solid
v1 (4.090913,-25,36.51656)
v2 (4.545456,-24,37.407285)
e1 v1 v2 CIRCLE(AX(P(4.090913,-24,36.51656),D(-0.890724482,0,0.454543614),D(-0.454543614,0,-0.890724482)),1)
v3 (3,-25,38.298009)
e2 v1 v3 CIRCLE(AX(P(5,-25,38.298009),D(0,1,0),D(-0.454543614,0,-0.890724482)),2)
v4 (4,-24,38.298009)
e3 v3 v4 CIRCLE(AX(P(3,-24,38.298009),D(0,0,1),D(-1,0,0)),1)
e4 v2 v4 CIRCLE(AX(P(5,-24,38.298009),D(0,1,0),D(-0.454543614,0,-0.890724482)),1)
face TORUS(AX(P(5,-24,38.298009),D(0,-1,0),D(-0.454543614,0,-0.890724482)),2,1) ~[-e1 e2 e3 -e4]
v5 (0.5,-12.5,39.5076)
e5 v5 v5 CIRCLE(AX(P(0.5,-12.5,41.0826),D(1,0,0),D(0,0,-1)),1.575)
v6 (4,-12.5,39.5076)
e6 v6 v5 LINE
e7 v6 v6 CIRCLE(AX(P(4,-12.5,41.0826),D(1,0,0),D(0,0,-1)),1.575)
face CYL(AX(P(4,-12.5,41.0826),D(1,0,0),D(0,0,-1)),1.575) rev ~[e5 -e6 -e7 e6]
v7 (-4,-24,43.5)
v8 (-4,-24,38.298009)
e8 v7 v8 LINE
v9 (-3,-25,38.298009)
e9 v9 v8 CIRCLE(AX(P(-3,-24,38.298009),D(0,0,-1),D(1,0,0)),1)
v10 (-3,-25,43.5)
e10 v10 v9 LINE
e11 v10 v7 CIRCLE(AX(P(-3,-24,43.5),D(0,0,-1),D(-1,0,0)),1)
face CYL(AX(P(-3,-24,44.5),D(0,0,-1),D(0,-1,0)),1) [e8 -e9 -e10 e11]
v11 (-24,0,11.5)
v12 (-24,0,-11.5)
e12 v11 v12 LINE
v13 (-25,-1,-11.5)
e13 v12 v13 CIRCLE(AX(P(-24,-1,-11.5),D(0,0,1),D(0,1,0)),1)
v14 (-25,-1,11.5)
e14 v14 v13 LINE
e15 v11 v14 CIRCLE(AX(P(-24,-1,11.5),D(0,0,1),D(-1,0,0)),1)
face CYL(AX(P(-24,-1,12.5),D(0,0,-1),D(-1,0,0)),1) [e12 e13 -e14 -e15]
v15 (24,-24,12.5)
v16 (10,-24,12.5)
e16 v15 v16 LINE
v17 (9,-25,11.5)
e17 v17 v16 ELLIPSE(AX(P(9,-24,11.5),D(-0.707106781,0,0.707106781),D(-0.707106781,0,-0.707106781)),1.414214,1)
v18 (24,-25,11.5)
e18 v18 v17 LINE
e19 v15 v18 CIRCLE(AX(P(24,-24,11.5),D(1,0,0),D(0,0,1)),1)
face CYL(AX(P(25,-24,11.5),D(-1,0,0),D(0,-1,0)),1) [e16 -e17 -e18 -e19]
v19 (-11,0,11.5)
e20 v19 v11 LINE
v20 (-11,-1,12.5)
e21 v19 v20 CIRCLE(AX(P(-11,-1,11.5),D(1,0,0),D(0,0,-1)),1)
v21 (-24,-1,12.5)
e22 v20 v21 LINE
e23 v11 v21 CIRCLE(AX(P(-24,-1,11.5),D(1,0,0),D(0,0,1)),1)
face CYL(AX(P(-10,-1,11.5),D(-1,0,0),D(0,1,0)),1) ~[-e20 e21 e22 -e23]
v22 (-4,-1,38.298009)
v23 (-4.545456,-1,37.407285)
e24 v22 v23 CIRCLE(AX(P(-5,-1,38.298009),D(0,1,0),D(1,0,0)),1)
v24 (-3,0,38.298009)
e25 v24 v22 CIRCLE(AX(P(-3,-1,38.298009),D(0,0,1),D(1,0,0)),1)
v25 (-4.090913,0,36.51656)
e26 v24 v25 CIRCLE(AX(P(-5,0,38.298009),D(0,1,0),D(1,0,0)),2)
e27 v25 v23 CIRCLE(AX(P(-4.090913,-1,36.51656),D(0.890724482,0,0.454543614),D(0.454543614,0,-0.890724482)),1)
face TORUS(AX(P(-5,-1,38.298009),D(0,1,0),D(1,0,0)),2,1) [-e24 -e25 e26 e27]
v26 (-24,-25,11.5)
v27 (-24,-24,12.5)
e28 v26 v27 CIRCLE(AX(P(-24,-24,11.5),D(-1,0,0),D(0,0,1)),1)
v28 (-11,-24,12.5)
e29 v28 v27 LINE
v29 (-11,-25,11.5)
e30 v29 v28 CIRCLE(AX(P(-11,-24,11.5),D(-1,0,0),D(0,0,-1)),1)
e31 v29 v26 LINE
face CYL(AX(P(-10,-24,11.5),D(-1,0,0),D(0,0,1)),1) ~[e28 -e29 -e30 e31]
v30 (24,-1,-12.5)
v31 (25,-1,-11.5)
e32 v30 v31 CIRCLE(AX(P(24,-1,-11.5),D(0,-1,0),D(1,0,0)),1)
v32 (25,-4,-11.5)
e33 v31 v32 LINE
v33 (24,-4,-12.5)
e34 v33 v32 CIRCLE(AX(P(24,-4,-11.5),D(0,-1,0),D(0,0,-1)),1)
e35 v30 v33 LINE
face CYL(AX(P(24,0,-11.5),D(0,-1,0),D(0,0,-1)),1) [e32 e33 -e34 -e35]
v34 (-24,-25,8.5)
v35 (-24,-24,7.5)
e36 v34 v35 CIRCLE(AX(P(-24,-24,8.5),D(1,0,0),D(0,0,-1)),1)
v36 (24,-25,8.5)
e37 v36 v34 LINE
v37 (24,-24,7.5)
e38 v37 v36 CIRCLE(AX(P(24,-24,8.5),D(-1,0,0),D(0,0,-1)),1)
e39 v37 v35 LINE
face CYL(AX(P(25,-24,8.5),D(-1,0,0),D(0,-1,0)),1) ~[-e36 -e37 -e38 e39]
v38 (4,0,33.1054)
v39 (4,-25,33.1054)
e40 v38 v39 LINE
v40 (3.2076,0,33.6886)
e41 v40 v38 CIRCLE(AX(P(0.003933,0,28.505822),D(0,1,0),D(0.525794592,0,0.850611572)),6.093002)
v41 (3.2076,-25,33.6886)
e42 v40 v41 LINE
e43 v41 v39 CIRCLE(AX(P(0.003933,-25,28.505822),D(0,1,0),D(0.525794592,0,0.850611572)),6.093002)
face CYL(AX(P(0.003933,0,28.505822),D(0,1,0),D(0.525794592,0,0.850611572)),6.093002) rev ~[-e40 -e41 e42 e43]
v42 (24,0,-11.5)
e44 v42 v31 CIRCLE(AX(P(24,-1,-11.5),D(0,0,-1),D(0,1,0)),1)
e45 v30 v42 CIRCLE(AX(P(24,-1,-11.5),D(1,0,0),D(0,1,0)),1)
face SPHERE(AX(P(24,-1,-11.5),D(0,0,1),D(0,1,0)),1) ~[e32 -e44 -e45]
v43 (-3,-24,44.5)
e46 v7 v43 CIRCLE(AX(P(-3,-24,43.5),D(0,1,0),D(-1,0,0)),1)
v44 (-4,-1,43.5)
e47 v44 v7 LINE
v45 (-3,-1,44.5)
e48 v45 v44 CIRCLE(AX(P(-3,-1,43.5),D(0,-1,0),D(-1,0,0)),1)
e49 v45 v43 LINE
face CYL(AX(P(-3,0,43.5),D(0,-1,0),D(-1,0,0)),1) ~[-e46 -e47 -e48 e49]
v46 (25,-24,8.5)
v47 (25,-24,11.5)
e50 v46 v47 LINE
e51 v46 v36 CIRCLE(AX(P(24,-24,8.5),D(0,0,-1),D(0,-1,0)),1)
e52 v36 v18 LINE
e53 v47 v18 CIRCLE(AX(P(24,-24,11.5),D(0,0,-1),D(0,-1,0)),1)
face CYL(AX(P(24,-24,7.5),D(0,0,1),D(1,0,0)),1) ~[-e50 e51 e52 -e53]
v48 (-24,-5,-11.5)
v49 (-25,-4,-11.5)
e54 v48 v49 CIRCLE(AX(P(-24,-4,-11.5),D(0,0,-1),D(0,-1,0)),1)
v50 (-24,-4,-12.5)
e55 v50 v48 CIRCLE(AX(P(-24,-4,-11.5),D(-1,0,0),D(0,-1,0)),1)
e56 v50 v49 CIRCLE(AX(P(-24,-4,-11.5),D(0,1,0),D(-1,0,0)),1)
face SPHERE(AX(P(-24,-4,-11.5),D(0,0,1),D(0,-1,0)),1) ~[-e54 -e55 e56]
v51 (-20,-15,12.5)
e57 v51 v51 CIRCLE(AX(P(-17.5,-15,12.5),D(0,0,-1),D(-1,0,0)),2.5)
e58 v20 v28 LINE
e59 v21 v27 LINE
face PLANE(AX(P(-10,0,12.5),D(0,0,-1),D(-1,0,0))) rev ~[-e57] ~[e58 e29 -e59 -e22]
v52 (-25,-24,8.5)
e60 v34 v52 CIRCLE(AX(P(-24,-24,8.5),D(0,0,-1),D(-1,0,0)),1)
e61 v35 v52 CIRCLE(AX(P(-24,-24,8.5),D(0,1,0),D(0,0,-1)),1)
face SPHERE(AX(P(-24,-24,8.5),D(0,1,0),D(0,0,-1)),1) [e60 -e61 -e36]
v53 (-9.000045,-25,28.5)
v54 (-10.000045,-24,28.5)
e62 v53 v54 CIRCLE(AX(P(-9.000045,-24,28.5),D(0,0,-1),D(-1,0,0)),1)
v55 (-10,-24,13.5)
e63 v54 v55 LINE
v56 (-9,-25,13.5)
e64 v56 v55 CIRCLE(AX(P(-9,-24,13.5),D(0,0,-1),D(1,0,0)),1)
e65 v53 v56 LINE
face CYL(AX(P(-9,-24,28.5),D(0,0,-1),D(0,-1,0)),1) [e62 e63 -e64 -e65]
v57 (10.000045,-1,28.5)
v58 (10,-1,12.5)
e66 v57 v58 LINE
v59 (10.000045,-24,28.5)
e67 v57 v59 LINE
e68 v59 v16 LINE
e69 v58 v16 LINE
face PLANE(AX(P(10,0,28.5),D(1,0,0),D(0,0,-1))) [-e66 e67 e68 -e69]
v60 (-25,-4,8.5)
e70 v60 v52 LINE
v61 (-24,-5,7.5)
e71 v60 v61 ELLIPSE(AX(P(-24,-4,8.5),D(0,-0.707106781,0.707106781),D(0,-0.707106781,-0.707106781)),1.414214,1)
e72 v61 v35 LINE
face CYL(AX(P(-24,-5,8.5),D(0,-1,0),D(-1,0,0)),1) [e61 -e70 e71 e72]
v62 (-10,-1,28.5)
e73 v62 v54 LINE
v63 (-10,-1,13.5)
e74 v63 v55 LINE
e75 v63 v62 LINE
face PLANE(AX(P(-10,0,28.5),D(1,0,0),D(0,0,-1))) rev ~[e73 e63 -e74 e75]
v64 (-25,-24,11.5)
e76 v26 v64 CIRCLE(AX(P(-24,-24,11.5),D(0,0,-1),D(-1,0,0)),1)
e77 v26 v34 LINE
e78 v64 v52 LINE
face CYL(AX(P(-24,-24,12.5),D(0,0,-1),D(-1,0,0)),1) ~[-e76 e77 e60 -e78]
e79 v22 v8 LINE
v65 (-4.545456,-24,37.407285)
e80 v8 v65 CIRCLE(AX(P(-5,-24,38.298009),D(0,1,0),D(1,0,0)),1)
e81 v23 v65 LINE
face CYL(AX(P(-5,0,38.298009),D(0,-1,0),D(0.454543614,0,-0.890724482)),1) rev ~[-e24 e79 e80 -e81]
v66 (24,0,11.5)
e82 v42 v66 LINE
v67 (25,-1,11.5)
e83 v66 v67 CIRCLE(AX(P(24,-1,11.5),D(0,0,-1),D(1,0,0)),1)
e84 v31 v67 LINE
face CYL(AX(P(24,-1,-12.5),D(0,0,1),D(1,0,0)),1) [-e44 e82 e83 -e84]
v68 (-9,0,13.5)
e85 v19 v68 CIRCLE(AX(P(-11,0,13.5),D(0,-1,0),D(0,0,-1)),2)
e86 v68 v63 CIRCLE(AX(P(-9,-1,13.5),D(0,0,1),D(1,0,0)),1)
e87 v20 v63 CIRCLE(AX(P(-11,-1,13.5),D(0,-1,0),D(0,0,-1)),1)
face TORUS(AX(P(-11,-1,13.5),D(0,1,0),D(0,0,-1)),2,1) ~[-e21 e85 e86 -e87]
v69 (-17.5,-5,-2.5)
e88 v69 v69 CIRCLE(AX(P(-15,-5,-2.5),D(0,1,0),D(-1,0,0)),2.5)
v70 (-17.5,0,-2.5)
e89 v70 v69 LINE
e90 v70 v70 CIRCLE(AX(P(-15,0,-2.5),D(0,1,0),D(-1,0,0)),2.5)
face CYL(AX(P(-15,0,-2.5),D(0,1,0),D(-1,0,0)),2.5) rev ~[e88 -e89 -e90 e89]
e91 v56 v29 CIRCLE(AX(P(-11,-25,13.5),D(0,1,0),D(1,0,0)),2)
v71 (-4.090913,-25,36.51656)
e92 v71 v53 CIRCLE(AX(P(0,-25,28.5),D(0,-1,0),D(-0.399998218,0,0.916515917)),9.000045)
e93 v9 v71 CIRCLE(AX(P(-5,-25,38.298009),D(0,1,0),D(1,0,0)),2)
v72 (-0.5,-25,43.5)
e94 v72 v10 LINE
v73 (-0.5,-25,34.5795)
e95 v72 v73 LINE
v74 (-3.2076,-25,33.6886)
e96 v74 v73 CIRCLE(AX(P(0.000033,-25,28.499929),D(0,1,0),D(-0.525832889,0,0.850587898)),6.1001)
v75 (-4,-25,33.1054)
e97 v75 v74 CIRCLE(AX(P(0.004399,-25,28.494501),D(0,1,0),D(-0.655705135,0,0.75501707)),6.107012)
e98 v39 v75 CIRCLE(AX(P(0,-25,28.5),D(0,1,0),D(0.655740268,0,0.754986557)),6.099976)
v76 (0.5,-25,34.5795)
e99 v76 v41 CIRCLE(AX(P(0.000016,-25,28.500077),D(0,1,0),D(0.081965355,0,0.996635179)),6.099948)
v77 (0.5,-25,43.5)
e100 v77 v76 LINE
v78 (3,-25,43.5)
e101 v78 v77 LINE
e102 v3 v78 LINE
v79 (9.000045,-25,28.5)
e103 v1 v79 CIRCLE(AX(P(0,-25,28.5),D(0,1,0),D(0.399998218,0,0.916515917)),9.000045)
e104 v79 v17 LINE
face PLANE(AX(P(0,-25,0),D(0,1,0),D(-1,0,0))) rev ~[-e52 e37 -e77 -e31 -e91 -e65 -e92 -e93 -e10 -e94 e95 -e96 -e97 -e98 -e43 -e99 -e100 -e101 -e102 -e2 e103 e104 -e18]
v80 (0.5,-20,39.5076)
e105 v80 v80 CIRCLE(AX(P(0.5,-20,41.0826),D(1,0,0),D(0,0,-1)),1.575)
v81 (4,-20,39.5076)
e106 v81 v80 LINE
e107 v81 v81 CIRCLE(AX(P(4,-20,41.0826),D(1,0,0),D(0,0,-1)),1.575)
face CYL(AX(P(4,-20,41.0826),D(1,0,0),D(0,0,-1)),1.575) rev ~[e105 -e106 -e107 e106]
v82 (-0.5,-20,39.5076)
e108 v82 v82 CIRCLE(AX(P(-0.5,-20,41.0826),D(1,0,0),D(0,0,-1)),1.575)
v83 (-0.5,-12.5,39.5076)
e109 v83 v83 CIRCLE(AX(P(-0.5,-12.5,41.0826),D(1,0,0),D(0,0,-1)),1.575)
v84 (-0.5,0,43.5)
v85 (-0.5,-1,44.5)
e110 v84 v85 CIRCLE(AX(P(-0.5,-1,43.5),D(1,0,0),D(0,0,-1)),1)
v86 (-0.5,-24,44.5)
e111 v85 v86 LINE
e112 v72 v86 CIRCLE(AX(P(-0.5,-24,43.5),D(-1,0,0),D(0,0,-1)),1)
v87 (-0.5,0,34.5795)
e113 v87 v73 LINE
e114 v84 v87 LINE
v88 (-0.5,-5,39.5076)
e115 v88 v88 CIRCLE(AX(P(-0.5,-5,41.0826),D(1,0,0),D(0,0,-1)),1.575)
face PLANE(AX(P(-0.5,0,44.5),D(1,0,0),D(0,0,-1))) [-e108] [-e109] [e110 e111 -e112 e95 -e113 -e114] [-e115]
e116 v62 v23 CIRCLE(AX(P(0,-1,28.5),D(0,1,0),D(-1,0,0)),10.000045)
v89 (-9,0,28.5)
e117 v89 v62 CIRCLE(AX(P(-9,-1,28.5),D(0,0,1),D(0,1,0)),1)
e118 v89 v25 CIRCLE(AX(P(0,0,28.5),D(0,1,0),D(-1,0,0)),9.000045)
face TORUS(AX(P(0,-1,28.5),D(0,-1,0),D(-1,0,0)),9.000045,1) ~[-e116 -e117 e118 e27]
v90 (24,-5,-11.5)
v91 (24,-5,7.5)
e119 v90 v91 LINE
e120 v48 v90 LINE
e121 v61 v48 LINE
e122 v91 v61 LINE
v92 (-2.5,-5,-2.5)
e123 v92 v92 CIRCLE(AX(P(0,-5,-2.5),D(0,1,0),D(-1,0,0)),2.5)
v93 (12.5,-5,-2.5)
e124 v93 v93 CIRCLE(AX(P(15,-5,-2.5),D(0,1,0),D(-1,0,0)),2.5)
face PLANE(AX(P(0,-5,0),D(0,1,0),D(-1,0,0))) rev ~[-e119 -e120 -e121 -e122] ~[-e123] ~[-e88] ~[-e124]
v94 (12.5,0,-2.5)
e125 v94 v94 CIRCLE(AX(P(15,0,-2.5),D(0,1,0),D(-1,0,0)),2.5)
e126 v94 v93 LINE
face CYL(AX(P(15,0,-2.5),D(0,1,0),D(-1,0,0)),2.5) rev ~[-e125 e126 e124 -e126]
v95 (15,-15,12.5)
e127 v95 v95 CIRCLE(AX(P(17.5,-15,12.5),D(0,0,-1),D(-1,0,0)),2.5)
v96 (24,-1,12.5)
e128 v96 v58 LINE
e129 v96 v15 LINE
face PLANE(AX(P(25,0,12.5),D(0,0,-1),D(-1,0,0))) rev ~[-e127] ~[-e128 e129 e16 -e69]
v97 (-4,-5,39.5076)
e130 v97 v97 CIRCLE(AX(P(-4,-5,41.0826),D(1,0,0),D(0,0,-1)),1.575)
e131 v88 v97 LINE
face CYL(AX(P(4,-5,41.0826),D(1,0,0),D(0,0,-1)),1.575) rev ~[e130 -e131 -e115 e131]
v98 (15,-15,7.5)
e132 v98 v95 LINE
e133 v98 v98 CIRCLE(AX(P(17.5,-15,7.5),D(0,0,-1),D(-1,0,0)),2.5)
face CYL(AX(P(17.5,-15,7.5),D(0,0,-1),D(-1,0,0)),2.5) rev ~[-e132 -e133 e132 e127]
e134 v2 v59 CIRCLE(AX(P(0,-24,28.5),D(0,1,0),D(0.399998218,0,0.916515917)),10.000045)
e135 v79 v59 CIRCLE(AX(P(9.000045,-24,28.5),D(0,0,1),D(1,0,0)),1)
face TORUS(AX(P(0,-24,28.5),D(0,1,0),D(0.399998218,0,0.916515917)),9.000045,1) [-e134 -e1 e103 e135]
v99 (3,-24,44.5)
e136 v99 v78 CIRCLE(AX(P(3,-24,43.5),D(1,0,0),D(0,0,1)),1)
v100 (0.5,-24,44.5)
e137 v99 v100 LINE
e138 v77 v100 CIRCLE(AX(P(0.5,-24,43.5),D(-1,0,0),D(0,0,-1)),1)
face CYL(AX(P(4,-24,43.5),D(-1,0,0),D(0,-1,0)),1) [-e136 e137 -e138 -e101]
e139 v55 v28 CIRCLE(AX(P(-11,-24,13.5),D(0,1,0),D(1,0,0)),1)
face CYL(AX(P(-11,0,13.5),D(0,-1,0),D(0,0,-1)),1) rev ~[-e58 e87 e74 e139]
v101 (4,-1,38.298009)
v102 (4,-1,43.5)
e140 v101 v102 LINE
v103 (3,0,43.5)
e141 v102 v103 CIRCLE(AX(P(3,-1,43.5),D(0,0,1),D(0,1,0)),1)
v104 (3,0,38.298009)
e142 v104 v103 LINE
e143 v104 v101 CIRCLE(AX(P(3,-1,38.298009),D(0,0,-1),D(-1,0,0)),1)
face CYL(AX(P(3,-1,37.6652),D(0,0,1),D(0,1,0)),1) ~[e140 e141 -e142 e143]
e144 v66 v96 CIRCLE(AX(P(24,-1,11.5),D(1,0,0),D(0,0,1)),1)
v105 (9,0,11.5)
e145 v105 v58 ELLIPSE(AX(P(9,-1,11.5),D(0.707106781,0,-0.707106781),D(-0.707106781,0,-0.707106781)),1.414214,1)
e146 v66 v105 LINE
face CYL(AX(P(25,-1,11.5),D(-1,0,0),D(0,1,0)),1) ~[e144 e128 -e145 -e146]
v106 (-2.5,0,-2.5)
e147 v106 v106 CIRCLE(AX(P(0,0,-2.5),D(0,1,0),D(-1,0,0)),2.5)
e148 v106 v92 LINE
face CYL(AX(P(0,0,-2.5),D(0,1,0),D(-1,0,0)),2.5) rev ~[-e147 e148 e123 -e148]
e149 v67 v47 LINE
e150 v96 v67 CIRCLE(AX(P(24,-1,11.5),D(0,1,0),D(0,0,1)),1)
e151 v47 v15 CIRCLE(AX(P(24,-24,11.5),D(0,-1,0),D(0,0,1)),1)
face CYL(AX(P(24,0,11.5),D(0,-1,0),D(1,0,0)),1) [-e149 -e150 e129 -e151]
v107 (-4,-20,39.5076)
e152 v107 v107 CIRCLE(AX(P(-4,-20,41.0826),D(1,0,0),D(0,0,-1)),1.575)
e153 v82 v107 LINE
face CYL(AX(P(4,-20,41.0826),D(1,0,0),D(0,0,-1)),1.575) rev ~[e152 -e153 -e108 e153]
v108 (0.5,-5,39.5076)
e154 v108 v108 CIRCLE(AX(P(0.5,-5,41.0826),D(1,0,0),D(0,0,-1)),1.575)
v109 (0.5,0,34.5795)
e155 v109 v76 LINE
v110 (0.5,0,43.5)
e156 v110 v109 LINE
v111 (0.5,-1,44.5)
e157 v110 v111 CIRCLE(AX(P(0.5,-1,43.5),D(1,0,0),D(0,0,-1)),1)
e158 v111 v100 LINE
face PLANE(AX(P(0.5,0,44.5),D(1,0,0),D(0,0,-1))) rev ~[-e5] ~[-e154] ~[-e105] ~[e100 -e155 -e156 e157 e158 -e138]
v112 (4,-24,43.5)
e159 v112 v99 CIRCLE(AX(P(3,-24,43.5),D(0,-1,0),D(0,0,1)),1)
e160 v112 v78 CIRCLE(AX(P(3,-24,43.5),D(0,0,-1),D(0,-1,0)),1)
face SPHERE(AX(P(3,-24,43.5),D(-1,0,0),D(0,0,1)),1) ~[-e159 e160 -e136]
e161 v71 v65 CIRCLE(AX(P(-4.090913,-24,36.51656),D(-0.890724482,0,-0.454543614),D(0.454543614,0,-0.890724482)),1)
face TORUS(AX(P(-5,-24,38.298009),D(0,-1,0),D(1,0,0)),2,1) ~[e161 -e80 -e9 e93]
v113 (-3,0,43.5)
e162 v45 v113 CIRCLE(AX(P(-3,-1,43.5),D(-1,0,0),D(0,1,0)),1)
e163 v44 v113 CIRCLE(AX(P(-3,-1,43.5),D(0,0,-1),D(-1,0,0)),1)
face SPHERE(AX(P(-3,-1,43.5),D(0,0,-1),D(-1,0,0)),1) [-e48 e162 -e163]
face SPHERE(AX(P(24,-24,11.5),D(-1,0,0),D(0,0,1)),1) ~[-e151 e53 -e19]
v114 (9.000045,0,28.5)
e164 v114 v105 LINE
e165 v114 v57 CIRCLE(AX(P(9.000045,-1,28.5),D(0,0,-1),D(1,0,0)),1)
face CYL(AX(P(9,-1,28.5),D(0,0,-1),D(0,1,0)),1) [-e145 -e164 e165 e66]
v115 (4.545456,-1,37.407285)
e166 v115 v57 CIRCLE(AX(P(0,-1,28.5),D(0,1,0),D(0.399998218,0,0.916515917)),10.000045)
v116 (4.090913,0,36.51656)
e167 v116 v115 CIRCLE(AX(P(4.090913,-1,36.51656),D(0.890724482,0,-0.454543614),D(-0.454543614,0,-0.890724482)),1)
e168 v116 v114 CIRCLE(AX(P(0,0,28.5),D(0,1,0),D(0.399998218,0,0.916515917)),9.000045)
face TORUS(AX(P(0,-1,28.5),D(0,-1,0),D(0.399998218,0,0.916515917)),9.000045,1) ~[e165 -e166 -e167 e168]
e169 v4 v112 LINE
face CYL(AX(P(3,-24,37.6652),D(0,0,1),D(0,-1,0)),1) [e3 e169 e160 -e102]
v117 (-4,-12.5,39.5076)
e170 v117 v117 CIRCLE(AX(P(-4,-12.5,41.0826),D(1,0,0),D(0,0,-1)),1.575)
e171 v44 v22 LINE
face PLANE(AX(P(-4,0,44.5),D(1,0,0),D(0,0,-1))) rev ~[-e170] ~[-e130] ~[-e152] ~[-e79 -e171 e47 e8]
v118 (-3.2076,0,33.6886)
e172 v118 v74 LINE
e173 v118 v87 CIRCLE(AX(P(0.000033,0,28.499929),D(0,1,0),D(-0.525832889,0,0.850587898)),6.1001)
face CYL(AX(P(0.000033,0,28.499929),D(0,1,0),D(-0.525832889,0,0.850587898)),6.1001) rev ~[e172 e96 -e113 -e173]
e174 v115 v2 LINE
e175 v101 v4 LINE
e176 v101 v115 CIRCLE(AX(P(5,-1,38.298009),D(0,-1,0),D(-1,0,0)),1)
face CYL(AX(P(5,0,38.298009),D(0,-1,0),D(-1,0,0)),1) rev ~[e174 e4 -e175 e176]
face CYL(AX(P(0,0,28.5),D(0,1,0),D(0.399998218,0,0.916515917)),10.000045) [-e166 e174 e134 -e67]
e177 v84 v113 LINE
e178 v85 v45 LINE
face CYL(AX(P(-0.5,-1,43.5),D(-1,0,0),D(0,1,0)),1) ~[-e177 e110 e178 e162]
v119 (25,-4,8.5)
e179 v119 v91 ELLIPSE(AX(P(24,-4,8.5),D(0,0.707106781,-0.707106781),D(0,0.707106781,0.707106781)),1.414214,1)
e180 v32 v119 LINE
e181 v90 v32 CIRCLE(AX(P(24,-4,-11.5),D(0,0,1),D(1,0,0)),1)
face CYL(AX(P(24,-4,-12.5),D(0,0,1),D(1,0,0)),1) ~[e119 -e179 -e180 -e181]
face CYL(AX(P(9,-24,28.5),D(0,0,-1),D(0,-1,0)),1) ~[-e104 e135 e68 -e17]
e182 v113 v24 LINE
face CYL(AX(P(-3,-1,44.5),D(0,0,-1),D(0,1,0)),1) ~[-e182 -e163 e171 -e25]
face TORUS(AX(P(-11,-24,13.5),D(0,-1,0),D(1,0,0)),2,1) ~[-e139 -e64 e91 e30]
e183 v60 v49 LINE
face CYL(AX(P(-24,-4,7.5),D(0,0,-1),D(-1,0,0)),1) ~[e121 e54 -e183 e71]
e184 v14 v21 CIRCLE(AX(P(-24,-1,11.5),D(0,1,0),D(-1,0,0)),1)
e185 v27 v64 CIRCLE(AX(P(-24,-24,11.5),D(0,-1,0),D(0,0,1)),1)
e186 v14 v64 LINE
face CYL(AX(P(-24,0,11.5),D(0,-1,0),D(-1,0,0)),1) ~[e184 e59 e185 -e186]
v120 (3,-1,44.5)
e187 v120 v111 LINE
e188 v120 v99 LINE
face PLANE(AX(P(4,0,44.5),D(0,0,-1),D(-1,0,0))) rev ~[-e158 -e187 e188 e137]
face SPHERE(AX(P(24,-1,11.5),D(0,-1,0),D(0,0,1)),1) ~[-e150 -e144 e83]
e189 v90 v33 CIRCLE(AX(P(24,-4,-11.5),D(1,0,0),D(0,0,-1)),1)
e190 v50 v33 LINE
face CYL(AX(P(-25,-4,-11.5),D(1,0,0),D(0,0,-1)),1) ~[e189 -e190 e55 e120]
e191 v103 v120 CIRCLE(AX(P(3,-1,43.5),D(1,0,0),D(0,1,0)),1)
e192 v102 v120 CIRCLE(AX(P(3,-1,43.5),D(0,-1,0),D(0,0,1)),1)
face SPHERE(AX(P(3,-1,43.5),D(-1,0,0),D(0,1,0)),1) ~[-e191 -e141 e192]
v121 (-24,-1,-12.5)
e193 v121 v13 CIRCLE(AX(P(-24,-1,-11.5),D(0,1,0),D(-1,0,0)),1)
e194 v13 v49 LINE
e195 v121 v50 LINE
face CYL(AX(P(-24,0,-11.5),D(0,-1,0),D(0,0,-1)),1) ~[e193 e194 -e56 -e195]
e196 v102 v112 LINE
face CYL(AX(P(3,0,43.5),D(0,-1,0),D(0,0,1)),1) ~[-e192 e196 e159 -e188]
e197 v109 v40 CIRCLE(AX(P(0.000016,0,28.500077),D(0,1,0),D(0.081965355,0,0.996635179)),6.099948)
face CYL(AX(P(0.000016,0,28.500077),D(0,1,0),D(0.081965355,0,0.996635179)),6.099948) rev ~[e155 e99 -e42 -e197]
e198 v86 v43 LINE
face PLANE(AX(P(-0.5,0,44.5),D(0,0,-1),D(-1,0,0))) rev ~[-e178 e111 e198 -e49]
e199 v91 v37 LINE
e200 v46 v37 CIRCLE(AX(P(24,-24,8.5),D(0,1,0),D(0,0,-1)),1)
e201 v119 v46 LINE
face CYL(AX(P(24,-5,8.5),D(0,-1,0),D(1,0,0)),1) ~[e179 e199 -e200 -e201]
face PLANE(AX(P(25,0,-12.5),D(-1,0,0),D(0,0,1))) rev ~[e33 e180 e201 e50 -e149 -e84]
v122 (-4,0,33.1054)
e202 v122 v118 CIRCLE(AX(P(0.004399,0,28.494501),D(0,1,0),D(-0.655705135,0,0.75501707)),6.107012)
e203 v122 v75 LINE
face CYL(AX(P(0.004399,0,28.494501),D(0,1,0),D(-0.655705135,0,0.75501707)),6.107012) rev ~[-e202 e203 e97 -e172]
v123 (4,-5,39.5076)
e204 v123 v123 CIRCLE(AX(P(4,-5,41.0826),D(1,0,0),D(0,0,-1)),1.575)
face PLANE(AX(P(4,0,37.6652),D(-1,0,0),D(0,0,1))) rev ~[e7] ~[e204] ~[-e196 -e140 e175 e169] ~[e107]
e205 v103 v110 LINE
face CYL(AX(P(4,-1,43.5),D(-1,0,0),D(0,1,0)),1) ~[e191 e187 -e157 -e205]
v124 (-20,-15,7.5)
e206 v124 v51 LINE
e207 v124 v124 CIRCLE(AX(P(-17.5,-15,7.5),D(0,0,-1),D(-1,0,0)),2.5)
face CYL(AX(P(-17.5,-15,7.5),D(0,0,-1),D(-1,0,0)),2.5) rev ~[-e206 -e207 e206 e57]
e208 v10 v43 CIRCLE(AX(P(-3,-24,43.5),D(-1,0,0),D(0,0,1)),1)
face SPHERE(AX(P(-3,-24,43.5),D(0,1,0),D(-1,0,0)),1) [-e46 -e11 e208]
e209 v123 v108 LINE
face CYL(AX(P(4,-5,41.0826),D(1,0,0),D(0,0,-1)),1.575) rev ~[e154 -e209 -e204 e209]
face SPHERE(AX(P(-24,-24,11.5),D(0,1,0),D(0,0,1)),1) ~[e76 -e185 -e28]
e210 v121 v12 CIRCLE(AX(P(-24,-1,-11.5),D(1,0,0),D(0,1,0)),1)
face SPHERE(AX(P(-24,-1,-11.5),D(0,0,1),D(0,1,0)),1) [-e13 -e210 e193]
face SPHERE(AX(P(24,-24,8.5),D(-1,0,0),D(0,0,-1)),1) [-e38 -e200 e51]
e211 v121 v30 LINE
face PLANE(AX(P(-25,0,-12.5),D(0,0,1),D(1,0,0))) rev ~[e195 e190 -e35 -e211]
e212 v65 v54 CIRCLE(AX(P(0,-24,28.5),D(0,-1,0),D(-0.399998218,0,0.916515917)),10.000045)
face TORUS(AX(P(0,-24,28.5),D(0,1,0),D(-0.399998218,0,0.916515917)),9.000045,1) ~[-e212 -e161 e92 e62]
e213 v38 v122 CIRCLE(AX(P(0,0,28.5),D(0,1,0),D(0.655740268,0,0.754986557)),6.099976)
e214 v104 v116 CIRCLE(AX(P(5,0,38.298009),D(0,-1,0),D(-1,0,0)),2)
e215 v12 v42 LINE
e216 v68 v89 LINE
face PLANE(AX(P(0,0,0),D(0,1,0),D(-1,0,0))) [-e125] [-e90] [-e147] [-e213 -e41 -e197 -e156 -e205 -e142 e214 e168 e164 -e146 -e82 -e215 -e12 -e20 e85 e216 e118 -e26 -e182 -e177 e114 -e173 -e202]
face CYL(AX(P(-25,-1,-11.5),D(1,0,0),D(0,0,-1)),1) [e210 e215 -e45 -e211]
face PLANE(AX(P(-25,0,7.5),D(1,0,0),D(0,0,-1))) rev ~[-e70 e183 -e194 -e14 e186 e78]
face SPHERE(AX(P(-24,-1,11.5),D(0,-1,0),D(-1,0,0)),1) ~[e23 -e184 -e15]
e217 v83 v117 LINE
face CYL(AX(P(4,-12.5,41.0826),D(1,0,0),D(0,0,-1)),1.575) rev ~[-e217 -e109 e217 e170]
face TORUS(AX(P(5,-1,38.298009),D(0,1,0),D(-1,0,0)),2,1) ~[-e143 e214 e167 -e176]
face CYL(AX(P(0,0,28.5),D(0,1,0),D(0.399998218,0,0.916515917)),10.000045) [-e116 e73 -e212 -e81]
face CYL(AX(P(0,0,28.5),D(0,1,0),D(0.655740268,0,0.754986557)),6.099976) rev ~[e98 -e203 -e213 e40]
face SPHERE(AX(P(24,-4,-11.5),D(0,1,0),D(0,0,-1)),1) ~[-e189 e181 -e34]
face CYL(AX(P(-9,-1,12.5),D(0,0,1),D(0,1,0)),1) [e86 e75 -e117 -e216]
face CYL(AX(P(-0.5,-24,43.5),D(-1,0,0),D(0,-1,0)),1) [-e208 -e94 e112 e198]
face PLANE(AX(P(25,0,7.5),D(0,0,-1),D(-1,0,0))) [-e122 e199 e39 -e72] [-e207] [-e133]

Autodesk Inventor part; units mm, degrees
ref_plane "YZ Plane" through (0, 0, 0) normal (1, 0, 0) x (0, 1, 0)
ref_plane "XZ Plane" through (0, 0, 0) normal (0, 1, 0) x (-1, 0, 0)
ref_plane "XY Plane" through (0, 0, 0) normal (0, 0, 1) x (1, 0, 0)
sketch "Sketch1" plane through (0, 0, 0) normal (0, 1, 0) x (-1, 0, 0)
  line L0 (25, -12.5) -> (-25, -12.5)
  line L1 (-25, -12.5) -> (-25, 12.5)
  line L2 (-25, 12.5) -> (25, 12.5)
  line L3 (25, 12.5) -> (25, -12.5)
  line L4 (25, -12.5) -> (-25, 12.5) construction
  line L5 (-25, -12.5) -> (25, 12.5) construction
  arc A0 (-3.2076, 33.6886) -> (-4, 33.1054) centre (0, 28.5) ccw
  arc A1 (-4, 37.6652) -> (4, 37.6652) centre (0, 28.5) ccw
  line L6 (25, -12.5) -> (-25, -12.5)
  line L7 (-25, -12.5) -> (-25, 7.5)
  line L8 (-25, 7.5) -> (25, 7.5)
  line L9 (25, 7.5) -> (25, -12.5)
  line L10 (0, 28.5) -> (0, 0) construction
  line L11 (10, 28.5) -> (10, 12.5)
  line L12 (-10, 28.5) -> (-10, 12.5)
  line L13 (-4, 44.5) -> (-0.5, 44.5)
  line L14 (4, 44.5) -> (4, 37.6652)
  line L15 (4, 32.5) -> (-4, 32.5) construction
  line L16 (-4, 32.5) -> (-4, 33.1054) construction
  line L17 (-4, 44.5) -> (4, 32.5) construction
  line L18 (4, 44.5) -> (-4, 32.5) construction
  line L19 (0, 28.5) -> (0, 38.5) construction
  line L20 (-4, 37.6652) -> (-4, 44.5)
  line L21 (4, 37.6652) -> (4, 33.1054) construction
  line L22 (4, 33.1054) -> (4, 32.5) construction
  line L23 (-4, 33.1054) -> (-4, 37.6652) construction
  arc A2 (0, 38.5) -> (-4, 37.6652) centre (0, 28.5) ccw construction
  arc A3 (4, 37.6652) -> (0, 38.5) centre (0, 28.5) ccw construction
  arc A4 (0, 34.6) -> (-0.5, 34.5795) centre (0, 28.5) ccw construction
  arc A5 (-4, 33.1054) -> (4, 33.1054) centre (0, 28.5) ccw
  arc A6 (3.2076, 33.6886) -> (0.5, 34.5795) centre (0, 28.5) ccw
  arc A7 (4, 33.1054) -> (3.2076, 33.6886) centre (0, 28.5) ccw
  line L24 (0.5, 44.5) -> (0.5, 34.5795)
  line L25 (-0.5, 44.5) -> (-0.5, 34.5795)
  line L26 (0.5, 44.5) -> (4, 44.5)
  line L27 (-0.5, 44.5) -> (0.5, 44.5) construction
  arc A8 (0.5, 34.5795) -> (0, 34.6) centre (0, 28.5) ccw construction
  arc A9 (-0.5, 34.5795) -> (-3.2076, 33.6886) centre (0, 28.5) ccw
  line L28 (25, -12.5) -> (-25, 7.5) construction
  line L29 (-25, -12.5) -> (25, 7.5) construction
  line L30 (25, -2.5) -> (0, -2.5) construction
  line L31 (0, -2.5) -> (-25, -2.5) construction
  circle A10 centre (0, -2.5) radius 2.5
  circle A11 centre (15, -2.5) radius 2.5
  circle A12 centre (-15, -2.5) radius 2.5
  dimension "d1" = 25
  dimension "d3" = 20
  dimension "d5" = 20
  dimension "d6" = 21
  dimension "d7" = 50
  dimension "d8" = 8
  dimension "d9" = 12
  dimension "d10" = 0.5
  dimension "d12" = 0.5
  dimension "d18" = 5
  dimension "d19" = 5
  dimension "d20" = 5
  dimension "d21" = 10
  dimension "d22" = 10
  dimension "d41" = 6.1
extrude "Extrusion1" add sketch "Sketch1" against normal blind 5 contours L0 L1 L8 L3
extrude "Extrusion2" add sketch "Sketch1" against normal blind 25 contours L8 L1 L2 L3 | L2 L12 A1 L11 | A1 L20 L13 L25 A9 A0 A5 A7 A6 L24 L26 L14
sketch "Sketch2" plane through (25, -5, 7.5) normal (0, 0, -1) x (-1, 0, 0)
  line L0 (0, -20) -> (15, -20) projected
  line L1 (50, 0) -> (0, 0)
  line L2 (0, 0) -> (0, -20)
  line L3 (0, -20) -> (50, -20)
  line L4 (50, -20) -> (50, 0)
  line L5 (0, 5) -> (0, -20) construction
  line L6 (0, -10) -> (50, -10) construction
  circle A0 centre (7.5, -10) radius 2.5
  circle A1 centre (42.5, -10) radius 2.5
  point P0 (25, 5)
  dimension "d26" = 5
  dimension "d27" = 7.5
  dimension "d28" = 5
  dimension "d29" = 7.5
extrude "Extrusion3" cut sketch "Sketch2" against normal blind 5 contours A0 | A1
sketch "Sketch3" plane through (4, 0, 44.5) normal (1, 0, 0) x (0, 0, -1)
  line L0 (0, 0) -> (0, -25) construction
  line L1 (6.8348, 0) -> (6.8348, -25) construction
  line L2 (0, 0) -> (6.8348, 0) construction
  line L3 (6.8348, 0) -> (6.8348, -25) construction
  line L4 (6.8348, -25) -> (0, -25) construction
  line L5 (0, -25) -> (0, 0) construction
  line L6 (6.8348, -25) -> (0, -25) construction
  line L7 (0, 0) -> (6.8348, -25) construction
  line L8 (0, 0) -> (6.8348, 0) construction
  line L9 (0, -25) -> (6.8348, 0) construction
  line L10 (3.4174, 0) -> (3.4174, -12.5) construction
  line L11 (3.4174, -12.5) -> (3.4174, -25) construction
  circle A0 centre (3.4174, -12.5) radius 1.575
  circle A1 centre (3.4174, -5) radius 1.575
  circle A2 centre (3.4174, -20) radius 1.575
  point P0 (44.5, 0)
  dimension "d32" = 3.15
  dimension "d33" = 3.15
  dimension "d34" = 3.15
  dimension "d35" = 5
  dimension "d36" = 5
extrude "Extrusion4" cut sketch "Sketch3" against normal blind 8
fillet "Fillet1" radius 1 40 edges at (-25, -12.5, 12.5) (-25, -15, 7.5) (-25, -5, -2.5) (-25, 0, 0) (-17.5, 0, 12.5) (-8.3666, 0, 33.9772) (-10, 0, 20.5) (-10, -12.5, 12.5) (-4, -12.5, 37.6652) (-4, 0, 41.0826) (-4, -12.5, 44.5) (-4, -25, 41.0826) (-10, -25, 20.5) (-8.3666, -25, 33.9772) (-17.5, -25, 12.5) (0, -25, 7.5) (-2.25, 0, 44.5) (2.25, 0, 44.5) (4, 0, 41.0826) (10, 0, 20.5) (8.3666, 0, 33.9772) (10, -25, 20.5) (8.3666, -25, 33.9772) (-2.25, -25, 44.5) (2.25, -25, 44.5) (4, -12.5, 44.5) (4, -25, 41.0826) (17.5, -25, 12.5) (25, -12.5, 12.5) (17.5, 0, 12.5) (25, 0, 0) (0, 0, -12.5) (25, -2.5, -12.5) (0, -5, -12.5) (25, -5, -2.5) (25, -15, 7.5) (25, -25, 10) (-25, -2.5, -12.5) (-25, -25, 10) (4, -12.5, 37.6652)
equation "\"d10\" = d12"
properties part number "z_rod_holder" material "Plastic, Opaque Black"
